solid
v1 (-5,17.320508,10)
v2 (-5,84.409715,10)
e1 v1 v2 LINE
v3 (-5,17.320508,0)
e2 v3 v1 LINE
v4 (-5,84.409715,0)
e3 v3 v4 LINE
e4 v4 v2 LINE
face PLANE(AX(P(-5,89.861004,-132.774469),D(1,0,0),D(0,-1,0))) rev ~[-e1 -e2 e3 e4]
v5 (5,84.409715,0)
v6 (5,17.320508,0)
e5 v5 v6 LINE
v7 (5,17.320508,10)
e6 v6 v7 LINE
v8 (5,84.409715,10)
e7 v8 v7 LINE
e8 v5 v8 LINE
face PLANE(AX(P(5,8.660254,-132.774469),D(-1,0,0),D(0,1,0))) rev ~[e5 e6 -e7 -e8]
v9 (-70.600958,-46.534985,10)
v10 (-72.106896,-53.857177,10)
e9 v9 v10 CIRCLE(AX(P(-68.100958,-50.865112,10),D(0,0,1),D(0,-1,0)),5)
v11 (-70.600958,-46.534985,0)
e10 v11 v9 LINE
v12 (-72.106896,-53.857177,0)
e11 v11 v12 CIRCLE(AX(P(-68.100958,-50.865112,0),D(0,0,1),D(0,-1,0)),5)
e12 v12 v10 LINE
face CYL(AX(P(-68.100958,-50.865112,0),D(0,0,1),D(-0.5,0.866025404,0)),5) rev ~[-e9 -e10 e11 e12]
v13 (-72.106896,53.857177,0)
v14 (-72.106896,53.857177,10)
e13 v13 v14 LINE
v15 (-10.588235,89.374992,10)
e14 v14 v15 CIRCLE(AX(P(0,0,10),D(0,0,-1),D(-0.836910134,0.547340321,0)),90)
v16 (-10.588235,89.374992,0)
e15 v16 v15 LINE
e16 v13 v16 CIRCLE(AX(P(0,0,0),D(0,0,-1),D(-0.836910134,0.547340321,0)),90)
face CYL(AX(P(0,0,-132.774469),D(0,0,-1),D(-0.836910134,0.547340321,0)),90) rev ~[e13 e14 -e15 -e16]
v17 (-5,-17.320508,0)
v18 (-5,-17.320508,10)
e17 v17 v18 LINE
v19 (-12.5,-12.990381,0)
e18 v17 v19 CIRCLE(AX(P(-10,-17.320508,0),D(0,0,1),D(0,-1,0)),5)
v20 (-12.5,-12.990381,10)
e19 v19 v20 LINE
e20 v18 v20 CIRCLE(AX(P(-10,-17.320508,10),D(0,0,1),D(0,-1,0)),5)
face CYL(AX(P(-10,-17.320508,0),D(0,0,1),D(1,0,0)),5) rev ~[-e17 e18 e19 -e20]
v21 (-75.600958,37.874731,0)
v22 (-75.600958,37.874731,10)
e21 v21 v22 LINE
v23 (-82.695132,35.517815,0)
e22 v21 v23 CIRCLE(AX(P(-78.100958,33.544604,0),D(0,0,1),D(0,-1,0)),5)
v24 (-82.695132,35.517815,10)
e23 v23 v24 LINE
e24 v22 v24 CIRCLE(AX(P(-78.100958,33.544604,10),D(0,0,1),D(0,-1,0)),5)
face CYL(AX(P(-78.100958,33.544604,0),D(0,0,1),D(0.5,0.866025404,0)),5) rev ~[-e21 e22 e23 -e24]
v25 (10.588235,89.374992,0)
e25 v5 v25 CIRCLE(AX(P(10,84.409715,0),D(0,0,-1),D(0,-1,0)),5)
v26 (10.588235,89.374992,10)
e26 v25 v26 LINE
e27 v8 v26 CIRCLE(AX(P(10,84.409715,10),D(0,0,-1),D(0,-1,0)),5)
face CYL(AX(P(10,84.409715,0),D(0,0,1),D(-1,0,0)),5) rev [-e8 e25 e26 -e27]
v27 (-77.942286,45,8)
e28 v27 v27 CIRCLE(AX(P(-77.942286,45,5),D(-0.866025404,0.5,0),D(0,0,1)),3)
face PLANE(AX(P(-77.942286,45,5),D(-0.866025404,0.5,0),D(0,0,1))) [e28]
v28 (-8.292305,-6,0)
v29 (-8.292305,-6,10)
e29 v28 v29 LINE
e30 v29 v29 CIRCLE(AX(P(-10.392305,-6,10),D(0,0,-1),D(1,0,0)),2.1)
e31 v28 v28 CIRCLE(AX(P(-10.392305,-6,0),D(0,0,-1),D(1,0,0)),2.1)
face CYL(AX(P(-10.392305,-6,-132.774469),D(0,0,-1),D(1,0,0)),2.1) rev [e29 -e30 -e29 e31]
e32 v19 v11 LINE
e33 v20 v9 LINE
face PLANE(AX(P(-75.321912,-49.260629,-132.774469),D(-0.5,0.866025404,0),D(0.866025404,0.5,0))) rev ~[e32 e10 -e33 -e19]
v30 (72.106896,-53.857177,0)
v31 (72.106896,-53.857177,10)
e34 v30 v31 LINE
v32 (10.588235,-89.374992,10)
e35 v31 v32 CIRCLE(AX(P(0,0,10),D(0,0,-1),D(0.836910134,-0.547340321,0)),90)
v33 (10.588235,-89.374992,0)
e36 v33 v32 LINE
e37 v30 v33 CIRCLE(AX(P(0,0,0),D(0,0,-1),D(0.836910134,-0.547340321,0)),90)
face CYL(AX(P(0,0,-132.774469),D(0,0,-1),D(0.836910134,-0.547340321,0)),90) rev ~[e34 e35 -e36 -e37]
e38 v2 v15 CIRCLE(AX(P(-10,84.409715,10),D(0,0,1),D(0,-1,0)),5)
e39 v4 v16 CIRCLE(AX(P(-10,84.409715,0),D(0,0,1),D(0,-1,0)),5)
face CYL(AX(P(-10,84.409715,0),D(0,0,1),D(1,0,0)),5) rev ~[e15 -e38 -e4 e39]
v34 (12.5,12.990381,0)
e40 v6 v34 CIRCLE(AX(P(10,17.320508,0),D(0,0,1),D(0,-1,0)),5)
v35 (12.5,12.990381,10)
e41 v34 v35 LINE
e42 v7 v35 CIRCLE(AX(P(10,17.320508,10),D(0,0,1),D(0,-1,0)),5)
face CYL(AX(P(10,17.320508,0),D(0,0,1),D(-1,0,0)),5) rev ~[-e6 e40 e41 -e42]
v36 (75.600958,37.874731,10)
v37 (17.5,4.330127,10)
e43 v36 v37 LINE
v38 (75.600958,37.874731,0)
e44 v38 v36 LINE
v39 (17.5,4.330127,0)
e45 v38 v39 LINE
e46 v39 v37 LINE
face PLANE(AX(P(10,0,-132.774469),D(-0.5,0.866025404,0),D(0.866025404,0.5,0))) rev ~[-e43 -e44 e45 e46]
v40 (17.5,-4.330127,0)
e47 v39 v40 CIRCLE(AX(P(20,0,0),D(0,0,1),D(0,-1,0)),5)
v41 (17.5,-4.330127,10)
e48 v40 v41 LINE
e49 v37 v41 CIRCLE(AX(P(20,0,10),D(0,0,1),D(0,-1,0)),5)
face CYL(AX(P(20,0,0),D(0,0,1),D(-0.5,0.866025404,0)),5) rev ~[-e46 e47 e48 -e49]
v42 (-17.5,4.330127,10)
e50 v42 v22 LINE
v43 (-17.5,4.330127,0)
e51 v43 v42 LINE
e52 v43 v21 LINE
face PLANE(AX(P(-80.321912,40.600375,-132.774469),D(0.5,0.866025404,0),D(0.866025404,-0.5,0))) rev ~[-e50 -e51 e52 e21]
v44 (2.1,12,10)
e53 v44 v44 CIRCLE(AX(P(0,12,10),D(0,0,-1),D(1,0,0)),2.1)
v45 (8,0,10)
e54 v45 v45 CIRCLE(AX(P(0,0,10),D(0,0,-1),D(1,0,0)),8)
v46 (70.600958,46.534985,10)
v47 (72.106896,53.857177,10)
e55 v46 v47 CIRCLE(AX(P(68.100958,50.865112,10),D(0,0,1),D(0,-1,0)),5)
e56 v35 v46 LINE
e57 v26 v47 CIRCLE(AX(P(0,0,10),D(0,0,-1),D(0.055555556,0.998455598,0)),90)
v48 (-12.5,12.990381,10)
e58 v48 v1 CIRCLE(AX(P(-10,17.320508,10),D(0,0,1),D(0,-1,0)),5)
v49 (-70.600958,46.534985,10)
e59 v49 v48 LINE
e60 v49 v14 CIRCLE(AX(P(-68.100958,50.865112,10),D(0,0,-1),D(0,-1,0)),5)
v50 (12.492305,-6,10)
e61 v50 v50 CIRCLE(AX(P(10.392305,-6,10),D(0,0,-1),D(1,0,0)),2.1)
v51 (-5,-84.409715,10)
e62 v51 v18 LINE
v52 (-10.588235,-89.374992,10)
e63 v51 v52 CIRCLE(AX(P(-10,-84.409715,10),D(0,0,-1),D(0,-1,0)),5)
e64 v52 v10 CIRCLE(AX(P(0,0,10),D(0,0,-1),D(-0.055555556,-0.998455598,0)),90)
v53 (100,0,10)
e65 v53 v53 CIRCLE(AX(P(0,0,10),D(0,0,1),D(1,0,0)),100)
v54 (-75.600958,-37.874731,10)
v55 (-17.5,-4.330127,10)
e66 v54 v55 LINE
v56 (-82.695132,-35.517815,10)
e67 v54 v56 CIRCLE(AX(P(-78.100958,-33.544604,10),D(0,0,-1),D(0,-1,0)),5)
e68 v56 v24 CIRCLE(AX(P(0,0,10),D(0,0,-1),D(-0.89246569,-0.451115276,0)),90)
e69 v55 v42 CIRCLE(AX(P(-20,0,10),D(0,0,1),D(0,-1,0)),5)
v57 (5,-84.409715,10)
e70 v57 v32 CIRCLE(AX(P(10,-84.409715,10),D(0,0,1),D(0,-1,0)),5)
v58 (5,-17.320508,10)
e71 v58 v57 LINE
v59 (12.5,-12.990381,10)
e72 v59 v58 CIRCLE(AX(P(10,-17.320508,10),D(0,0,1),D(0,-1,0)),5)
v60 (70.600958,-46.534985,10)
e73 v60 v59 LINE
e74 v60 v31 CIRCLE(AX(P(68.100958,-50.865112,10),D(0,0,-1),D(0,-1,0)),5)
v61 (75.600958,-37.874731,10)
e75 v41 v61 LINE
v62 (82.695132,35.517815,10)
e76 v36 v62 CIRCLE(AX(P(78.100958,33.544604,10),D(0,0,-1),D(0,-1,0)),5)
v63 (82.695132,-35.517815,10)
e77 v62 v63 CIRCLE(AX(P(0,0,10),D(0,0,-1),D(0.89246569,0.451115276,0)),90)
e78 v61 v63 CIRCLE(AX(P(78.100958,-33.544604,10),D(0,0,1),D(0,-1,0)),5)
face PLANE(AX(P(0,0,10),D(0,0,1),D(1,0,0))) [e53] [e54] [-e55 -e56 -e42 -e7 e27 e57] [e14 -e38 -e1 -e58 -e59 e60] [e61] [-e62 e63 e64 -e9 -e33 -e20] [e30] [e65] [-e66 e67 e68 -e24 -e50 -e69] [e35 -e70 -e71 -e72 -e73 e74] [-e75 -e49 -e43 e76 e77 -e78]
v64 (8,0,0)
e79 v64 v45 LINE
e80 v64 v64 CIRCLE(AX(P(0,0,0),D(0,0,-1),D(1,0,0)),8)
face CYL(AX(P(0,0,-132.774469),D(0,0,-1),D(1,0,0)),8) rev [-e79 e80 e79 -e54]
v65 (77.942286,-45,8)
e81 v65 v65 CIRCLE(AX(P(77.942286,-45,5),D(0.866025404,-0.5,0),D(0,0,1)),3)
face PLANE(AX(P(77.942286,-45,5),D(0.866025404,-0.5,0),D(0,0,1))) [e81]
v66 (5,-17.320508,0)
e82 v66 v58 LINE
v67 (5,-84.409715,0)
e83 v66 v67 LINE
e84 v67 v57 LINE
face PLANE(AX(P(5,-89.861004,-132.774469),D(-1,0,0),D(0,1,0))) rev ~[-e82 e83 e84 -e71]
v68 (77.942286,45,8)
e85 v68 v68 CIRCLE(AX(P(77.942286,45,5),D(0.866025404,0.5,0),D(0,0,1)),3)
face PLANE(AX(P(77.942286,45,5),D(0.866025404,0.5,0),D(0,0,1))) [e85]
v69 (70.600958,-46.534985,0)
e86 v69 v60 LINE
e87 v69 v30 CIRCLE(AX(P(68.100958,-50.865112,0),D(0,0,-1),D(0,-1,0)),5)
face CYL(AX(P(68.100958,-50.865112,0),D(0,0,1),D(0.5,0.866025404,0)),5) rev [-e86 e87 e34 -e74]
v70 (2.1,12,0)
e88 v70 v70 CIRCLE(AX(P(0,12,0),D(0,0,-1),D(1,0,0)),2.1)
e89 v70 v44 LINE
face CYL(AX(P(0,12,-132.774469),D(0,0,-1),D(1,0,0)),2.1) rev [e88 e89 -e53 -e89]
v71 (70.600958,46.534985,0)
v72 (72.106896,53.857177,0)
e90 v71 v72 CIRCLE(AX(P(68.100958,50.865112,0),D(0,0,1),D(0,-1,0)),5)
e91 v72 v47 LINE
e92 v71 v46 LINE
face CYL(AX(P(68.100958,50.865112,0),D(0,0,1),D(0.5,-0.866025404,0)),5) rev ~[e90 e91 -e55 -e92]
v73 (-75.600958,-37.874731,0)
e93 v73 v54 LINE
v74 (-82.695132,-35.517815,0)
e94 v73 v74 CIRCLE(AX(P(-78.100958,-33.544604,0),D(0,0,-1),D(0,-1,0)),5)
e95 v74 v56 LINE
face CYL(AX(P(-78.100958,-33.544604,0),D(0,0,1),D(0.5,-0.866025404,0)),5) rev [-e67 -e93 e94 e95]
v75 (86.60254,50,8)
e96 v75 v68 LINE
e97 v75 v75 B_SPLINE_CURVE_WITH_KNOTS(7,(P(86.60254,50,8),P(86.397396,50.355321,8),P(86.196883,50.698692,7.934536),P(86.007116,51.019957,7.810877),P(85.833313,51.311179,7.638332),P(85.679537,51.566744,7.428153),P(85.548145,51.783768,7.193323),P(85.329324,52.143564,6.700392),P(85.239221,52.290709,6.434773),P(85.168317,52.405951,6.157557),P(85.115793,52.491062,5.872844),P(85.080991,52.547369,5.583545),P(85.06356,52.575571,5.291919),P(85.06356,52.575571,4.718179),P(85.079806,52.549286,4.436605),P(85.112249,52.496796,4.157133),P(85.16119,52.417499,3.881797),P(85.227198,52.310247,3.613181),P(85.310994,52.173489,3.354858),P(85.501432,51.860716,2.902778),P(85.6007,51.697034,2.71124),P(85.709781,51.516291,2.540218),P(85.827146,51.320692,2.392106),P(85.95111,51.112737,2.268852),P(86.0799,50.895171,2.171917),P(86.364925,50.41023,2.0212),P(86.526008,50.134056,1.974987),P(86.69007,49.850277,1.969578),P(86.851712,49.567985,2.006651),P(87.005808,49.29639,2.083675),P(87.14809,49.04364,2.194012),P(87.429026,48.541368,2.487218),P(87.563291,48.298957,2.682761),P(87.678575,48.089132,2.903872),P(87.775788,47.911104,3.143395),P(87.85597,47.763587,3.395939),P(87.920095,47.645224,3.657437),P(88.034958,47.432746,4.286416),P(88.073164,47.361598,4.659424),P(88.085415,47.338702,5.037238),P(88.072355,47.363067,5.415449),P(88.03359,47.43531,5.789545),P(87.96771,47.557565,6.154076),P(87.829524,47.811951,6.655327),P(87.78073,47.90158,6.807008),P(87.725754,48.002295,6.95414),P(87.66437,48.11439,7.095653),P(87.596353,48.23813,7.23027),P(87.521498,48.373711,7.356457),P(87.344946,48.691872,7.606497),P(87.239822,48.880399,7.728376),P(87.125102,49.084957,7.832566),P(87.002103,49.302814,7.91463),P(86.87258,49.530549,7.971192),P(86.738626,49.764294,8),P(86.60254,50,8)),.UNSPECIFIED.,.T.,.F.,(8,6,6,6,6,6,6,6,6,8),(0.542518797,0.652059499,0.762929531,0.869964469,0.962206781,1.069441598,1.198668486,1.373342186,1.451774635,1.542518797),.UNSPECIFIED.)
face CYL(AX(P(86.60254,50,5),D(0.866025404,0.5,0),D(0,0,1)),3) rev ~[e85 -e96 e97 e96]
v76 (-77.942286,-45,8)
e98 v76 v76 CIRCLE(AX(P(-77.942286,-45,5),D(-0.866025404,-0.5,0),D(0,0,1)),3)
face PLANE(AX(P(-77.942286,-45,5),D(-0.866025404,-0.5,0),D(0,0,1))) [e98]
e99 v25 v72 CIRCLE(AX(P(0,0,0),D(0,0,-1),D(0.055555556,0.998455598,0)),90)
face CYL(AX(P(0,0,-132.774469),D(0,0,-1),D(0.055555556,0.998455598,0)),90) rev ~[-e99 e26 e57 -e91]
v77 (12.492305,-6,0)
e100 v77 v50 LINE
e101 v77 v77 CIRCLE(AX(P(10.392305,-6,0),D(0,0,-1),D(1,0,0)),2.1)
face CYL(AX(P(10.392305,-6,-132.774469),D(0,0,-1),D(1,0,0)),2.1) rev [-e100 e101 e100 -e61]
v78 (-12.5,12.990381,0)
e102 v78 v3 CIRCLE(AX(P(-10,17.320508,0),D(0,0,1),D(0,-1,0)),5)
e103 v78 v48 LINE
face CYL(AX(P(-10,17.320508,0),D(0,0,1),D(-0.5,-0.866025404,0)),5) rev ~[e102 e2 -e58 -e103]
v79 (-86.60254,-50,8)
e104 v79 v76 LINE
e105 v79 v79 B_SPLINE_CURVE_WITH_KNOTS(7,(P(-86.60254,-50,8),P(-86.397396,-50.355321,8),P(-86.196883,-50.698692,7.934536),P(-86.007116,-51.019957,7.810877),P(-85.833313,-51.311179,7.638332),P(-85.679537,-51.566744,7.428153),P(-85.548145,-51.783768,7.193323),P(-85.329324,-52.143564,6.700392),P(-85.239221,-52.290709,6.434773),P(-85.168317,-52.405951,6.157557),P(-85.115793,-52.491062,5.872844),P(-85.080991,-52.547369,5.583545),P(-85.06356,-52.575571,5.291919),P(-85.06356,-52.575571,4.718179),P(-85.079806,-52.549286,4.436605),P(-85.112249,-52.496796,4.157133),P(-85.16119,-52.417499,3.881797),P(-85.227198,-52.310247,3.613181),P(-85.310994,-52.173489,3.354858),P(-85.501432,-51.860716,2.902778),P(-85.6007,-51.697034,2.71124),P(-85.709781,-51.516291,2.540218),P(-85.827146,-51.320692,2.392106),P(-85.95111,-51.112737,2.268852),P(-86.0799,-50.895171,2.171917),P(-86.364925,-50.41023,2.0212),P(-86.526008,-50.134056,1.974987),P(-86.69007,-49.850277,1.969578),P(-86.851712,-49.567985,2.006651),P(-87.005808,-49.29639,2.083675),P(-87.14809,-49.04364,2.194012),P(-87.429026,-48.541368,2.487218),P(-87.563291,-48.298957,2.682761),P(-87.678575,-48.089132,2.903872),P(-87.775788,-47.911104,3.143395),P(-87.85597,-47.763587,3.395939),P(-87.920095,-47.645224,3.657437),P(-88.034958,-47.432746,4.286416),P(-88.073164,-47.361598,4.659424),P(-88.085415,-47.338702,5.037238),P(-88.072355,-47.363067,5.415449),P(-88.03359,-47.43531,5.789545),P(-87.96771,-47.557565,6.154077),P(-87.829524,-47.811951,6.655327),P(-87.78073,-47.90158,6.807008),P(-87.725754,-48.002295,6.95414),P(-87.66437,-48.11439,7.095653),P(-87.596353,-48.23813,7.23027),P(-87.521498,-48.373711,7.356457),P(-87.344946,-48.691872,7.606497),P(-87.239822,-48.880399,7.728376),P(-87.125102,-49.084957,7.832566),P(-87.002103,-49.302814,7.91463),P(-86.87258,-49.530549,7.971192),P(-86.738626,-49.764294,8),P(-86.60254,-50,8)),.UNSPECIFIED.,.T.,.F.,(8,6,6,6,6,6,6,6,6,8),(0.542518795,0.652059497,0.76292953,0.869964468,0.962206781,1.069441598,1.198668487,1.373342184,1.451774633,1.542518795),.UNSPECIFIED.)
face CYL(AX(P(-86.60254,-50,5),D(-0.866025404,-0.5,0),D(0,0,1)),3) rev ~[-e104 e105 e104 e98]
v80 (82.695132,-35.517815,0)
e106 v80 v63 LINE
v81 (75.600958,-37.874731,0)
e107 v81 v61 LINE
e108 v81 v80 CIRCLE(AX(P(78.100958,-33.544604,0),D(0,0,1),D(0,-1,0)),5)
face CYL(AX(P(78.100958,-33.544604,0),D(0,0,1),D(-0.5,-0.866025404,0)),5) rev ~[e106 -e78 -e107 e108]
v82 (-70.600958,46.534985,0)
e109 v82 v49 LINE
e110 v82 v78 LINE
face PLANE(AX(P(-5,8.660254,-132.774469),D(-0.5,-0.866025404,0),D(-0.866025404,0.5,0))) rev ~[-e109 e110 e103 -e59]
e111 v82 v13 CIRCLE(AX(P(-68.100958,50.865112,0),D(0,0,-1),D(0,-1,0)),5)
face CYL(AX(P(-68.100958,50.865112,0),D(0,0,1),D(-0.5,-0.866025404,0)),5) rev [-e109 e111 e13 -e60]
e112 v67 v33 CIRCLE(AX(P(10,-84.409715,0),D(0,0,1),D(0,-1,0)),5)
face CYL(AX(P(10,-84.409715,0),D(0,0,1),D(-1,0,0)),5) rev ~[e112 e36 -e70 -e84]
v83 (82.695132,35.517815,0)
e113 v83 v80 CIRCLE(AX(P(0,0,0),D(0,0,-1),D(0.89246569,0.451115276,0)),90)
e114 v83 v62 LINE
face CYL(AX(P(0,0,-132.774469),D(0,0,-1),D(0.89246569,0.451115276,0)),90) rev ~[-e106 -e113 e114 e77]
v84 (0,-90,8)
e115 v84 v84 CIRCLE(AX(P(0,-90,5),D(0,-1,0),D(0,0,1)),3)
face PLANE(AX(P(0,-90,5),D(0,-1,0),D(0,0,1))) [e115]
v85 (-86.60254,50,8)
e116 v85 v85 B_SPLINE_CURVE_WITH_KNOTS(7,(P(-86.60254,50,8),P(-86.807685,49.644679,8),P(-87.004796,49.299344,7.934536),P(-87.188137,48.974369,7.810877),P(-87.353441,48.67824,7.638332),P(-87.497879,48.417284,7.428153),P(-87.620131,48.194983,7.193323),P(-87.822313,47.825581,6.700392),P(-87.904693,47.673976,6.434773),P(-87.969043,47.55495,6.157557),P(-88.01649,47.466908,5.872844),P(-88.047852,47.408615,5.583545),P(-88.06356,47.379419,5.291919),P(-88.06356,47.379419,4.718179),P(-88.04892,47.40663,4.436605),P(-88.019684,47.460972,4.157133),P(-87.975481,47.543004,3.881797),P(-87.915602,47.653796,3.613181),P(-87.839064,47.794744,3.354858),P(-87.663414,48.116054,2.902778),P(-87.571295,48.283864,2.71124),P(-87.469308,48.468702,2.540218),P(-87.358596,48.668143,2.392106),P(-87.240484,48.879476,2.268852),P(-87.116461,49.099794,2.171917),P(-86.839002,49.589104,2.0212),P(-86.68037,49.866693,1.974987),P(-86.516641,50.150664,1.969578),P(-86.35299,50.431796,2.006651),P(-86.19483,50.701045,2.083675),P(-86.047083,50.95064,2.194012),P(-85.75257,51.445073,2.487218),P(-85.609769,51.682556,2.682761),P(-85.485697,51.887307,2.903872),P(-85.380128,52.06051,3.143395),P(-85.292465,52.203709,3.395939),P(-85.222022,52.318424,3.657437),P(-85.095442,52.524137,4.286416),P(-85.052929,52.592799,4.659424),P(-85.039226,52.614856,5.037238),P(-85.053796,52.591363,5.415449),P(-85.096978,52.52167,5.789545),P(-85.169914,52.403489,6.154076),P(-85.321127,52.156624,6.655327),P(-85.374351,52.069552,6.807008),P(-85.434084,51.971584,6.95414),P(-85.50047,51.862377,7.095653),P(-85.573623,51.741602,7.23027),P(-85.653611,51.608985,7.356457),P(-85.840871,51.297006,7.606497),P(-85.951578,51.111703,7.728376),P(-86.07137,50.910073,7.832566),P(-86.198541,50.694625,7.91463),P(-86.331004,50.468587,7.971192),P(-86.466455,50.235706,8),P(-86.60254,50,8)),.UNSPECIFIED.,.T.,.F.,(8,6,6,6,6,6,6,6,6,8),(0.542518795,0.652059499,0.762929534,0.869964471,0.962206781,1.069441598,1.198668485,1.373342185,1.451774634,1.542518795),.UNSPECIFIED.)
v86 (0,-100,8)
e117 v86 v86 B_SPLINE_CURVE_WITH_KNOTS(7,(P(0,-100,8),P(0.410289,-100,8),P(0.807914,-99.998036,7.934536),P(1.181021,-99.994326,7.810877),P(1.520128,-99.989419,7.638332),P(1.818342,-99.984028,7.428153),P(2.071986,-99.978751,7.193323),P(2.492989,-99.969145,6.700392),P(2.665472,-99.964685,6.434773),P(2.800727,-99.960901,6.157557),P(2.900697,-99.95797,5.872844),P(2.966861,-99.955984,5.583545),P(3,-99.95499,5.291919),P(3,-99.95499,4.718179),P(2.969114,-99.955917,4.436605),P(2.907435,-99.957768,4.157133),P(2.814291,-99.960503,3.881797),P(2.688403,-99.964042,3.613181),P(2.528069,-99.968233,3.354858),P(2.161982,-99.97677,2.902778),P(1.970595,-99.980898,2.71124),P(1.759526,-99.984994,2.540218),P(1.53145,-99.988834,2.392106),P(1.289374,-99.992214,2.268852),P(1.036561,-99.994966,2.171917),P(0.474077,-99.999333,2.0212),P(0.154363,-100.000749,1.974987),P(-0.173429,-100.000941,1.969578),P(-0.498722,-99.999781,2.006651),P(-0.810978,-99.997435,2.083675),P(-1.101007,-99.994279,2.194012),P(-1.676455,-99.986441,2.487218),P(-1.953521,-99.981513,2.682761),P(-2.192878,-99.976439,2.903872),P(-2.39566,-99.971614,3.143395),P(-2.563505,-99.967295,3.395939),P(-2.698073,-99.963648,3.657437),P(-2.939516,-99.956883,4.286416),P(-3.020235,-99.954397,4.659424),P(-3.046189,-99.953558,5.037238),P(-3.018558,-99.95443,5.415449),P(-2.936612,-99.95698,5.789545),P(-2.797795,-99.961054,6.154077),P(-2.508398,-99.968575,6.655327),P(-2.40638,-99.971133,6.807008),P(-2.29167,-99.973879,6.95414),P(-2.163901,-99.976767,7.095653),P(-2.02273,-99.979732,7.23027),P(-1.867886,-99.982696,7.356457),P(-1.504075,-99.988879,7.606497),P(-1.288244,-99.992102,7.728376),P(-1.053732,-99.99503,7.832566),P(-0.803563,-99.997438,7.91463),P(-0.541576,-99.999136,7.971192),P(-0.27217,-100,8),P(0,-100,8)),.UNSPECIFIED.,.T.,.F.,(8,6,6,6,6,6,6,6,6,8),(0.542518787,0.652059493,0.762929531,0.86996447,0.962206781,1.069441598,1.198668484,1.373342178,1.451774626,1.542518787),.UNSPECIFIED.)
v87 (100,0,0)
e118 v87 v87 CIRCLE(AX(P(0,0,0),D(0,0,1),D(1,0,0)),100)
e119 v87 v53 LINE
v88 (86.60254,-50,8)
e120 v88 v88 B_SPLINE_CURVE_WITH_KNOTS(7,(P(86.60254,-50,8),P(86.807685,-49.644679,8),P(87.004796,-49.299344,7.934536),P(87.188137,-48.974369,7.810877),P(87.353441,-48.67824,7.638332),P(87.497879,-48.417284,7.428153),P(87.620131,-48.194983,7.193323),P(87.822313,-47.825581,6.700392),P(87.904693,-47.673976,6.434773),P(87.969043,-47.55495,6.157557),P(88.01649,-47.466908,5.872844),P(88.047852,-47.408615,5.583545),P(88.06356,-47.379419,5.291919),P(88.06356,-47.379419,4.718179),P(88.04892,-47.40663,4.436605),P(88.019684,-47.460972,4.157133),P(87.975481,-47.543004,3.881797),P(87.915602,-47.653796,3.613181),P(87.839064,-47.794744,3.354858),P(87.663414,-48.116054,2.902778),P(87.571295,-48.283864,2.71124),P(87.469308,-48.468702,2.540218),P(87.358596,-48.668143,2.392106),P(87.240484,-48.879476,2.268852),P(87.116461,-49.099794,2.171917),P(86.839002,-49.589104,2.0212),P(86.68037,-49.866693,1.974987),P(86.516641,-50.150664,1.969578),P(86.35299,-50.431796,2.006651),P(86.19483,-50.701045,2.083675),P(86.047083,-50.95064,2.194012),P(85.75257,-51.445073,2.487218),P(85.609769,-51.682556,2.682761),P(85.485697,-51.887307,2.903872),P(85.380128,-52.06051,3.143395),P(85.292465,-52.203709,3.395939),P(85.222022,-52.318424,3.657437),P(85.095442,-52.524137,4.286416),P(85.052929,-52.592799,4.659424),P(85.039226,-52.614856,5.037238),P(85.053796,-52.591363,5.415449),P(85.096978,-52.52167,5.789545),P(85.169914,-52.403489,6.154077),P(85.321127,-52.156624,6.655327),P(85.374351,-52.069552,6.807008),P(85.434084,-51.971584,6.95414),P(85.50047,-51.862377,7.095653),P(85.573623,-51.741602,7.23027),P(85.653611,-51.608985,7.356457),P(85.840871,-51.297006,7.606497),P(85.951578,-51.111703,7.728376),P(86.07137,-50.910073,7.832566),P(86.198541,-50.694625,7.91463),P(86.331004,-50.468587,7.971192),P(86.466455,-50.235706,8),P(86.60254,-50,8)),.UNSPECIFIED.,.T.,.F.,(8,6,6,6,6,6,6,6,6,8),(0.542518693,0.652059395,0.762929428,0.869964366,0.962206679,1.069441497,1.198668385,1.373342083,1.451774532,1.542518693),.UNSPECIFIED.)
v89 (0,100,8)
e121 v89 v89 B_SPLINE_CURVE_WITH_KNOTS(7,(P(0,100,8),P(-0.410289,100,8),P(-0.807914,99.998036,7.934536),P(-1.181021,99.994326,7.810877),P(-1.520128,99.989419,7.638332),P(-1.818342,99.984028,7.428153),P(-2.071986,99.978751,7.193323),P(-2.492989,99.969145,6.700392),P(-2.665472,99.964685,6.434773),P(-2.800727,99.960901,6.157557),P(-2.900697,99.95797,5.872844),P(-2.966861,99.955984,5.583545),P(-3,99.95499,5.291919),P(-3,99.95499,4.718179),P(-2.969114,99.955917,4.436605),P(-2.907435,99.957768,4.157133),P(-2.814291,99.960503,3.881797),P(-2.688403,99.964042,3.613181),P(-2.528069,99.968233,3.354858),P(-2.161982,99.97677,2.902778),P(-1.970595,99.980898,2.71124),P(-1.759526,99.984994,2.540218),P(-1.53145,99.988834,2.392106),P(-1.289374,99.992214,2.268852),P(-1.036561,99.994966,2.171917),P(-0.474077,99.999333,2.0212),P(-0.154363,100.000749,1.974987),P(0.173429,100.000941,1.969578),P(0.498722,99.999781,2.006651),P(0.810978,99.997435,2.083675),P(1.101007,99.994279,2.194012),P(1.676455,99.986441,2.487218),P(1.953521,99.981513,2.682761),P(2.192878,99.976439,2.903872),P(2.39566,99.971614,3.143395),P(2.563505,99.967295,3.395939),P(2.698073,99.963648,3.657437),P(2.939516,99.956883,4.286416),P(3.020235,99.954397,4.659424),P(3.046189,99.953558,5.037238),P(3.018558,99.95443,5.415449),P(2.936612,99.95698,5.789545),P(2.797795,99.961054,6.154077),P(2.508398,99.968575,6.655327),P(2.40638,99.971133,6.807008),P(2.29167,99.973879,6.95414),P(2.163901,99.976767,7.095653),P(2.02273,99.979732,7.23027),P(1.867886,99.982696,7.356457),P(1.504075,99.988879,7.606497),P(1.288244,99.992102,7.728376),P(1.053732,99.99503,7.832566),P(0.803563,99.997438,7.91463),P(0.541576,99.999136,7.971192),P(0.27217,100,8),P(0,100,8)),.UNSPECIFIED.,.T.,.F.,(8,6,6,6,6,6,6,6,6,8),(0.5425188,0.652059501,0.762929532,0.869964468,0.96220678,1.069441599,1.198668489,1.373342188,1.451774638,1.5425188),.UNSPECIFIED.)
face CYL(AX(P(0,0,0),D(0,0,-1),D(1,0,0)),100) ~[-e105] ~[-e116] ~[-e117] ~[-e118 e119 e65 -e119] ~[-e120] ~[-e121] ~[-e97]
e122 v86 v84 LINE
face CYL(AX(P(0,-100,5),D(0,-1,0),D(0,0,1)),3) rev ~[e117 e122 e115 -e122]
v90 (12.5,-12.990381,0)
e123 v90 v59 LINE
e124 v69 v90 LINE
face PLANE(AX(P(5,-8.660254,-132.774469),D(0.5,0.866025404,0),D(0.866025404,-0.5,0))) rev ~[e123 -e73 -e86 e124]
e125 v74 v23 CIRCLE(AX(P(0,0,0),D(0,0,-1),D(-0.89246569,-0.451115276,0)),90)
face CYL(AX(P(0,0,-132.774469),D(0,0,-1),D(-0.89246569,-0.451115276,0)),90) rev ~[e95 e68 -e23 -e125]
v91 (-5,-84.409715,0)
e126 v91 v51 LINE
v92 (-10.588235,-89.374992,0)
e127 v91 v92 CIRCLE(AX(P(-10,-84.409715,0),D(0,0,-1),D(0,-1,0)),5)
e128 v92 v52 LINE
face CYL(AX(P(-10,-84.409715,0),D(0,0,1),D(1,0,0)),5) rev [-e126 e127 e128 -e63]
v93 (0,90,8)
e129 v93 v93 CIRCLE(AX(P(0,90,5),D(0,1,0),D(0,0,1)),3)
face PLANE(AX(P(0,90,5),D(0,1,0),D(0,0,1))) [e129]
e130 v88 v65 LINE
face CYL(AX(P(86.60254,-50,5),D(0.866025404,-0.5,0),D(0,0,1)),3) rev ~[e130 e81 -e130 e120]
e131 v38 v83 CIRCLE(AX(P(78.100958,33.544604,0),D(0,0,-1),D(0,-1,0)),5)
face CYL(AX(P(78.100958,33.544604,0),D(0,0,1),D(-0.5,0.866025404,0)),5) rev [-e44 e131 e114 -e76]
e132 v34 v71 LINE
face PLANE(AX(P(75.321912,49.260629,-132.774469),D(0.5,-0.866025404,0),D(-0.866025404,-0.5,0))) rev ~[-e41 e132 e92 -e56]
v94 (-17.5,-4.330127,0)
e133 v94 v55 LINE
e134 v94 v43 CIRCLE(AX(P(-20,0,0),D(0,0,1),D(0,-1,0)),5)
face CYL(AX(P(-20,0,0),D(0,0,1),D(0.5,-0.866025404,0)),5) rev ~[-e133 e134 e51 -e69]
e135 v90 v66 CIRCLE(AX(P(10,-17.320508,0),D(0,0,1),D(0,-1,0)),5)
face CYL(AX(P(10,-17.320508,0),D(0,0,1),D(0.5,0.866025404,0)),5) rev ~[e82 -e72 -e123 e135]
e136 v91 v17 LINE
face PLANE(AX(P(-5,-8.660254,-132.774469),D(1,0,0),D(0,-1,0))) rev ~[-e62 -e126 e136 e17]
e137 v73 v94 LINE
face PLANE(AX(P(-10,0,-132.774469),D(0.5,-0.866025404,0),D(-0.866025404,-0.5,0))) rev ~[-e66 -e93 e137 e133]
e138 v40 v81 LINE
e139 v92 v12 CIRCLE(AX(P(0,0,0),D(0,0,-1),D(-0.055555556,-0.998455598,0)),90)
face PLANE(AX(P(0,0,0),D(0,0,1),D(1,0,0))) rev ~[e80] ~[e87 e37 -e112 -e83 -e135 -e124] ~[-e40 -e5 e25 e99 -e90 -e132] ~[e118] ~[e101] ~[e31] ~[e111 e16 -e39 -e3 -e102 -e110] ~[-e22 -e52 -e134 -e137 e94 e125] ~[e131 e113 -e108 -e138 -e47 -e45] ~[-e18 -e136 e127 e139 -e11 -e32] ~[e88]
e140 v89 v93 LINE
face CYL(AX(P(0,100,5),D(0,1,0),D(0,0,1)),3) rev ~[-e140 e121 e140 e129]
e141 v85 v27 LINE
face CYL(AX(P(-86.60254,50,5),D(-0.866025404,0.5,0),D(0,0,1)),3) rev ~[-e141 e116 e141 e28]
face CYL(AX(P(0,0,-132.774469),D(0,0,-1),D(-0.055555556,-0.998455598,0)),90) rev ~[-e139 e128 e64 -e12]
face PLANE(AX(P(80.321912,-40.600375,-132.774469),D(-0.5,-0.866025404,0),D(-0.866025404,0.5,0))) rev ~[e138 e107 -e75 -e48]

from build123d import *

# Parameters (mm, degrees)
ESQUISSE1_R                  = 100
BOSS_EXTRU_1_DEPTH           = 10
ENL_V_MAT_EXTRU_1_DEPTH      = 142.774468788
ENL_V_MAT_EXTRU_1_DEPTH_BACK = 142.774468788
CONG_1_R                     = 5
ENL_V_MAT_EXTRU_2_DEPTH      = 142.774468788
ENL_V_MAT_EXTRU_2_DEPTH_BACK = 142.774468788
ESQUISSE3_R                  = 8
ENL_V_MAT_EXTRU_3_DEPTH      = 142.774468788
ENL_V_MAT_EXTRU_3_DEPTH_BACK = 142.774468788
ESQUISSE4_R                  = 2.1
ENL_V_START                  = 100
ESQUISSE5_R                  = 3
ENL_V_MAT_EXTRU_4_DEPTH      = 10
R_P_TITION_CIRCULAIRE1_COUNT = 6


with BuildPart() as part:
    # Esquisse1 → Boss.-Extru.1 (new body)
    with BuildSketch(Plane.XY):
        Circle(ESQUISSE1_R)
    extrude(amount=BOSS_EXTRU_1_DEPTH)

    # Esquisse2 → Enlèv. mat.-Extru.1 (cut, two sides: drawn at the far end of the back side and taken through both)
    with BuildSketch(Plane.XY.offset(10).offset(-ENL_V_MAT_EXTRU_1_DEPTH_BACK)):
        with BuildLine():
            Line((10, 0), (80.321912081, 40.60037487))
            ThreePointArc((80.321912081, 40.60037487), (90, 0), (80.321912081, -40.60037487))
            Line((80.321912081, -40.60037487), (10, 0))
        make_face()
        with BuildLine():
            Line((5, -8.660254038), (75.321912081, -49.260628908))
            ThreePointArc((75.321912081, -49.260628908), (45, -77.942286341), (5, -89.861003778))
            Line((5, -89.861003778), (5, -8.660254038))
        make_face()
        with BuildLine():
            Line((-5, -8.660254038), (-5, -89.861003778))
            ThreePointArc((-5, -89.861003778), (-45, -77.942286341), (-75.321912081, -49.260628908))
            Line((-75.321912081, -49.260628908), (-5, -8.660254038))
        make_face()
        with BuildLine():
            Line((-10, 0), (-80.321912081, -40.60037487))
            ThreePointArc((-80.321912081, -40.60037487), (-90, 0), (-80.321912081, 40.60037487))
            Line((-80.321912081, 40.60037487), (-10, 0))
        make_face()
        with BuildLine():
            Line((-5, 8.660254038), (-75.321912081, 49.260628908))
            ThreePointArc((-75.321912081, 49.260628908), (-45, 77.942286341), (-5, 89.861003778))
            Line((-5, 89.861003778), (-5, 8.660254038))
        make_face()
        with BuildLine():
            Line((5, 8.660254038), (5, 89.861003778))
            ThreePointArc((5, 89.861003778), (45, 77.942286341), (75.321912081, 49.260628908))
            Line((75.321912081, 49.260628908), (5, 8.660254038))
        make_face()
    extrude(amount=ENL_V_MAT_EXTRU_1_DEPTH + ENL_V_MAT_EXTRU_1_DEPTH_BACK, mode=Mode.SUBTRACT)

    # Congé1
    cong_1_edges = [part.edges().sort_by_distance(p)[0] for p in [
        (80.321912081, -40.60037487, 5),
        (10, 0, 5),
        (80.321912081, 40.60037487, 5),
        (-80.321912081, 40.60037487, 5),
        (-10, 0, 5),
        (-80.321912081, -40.60037487, 5),
        (-5, 89.861003778, 5),
        (-5, 8.660254038, 5),
        (-75.321912081, 49.260628908, 5),
        (75.321912081, 49.260628908, 5),
        (5, 8.660254038, 5),
        (5, 89.861003778, 5),
        (-75.321912081, -49.260628908, 5),
        (-5, -8.660254038, 5),
        (-5, -89.861003778, 5),
        (5, -89.861003778, 5),
        (5, -8.660254038, 5),
        (75.321912081, -49.260628908, 5),
    ]]
    fillet(cong_1_edges, radius=CONG_1_R)

    # Esquisse3 → Enlèv. mat.-Extru.2 (cut, two sides: drawn at the far end of the back side and taken through both)
    with BuildSketch(Plane.XY.offset(10).offset(-ENL_V_MAT_EXTRU_2_DEPTH_BACK)):
        Circle(ESQUISSE3_R)
    extrude(amount=ENL_V_MAT_EXTRU_2_DEPTH + ENL_V_MAT_EXTRU_2_DEPTH_BACK, mode=Mode.SUBTRACT)

    # Esquisse4 → Enlèv. mat.-Extru.3 (cut, two sides: drawn at the far end of the back side and taken through both)
    with BuildSketch(Plane.XY.offset(10).offset(-ENL_V_MAT_EXTRU_3_DEPTH_BACK)):
        with Locations((0, 12)):
            Circle(ESQUISSE4_R)
        with Locations((10.392304845, -6)):
            Circle(ESQUISSE4_R)
        with Locations((-10.392304845, -6)):
            Circle(ESQUISSE4_R)
    extrude(amount=ENL_V_MAT_EXTRU_3_DEPTH + ENL_V_MAT_EXTRU_3_DEPTH_BACK, mode=Mode.SUBTRACT)

    # Esquisse5 → Enlèv. mat.-Extru.4 (cut)
    with BuildSketch(Plane(origin=(0, 0, 0), x_dir=(0, 0, -1), z_dir=(0, 1, 0)).offset(ENL_V_START)):
        with Locations(Location((-5, 0, 0), (0, 0, 180))):
            Circle(ESQUISSE5_R)
    enl_v_mat_extru_4 = extrude(amount=-ENL_V_MAT_EXTRU_4_DEPTH, mode=Mode.SUBTRACT)

    # Répétition circulaire1: Enlèv. mat.-Extru.4 ×6 about axis
    r_p_tition_circulaire1_axis = Axis((0, 0, 0), (0, 0, 1))
    for i in range(1, R_P_TITION_CIRCULAIRE1_COUNT):
        add(enl_v_mat_extru_4.rotate(r_p_tition_circulaire1_axis, i * 360 / R_P_TITION_CIRCULAIRE1_COUNT), mode=Mode.SUBTRACT)


solid = part.part
